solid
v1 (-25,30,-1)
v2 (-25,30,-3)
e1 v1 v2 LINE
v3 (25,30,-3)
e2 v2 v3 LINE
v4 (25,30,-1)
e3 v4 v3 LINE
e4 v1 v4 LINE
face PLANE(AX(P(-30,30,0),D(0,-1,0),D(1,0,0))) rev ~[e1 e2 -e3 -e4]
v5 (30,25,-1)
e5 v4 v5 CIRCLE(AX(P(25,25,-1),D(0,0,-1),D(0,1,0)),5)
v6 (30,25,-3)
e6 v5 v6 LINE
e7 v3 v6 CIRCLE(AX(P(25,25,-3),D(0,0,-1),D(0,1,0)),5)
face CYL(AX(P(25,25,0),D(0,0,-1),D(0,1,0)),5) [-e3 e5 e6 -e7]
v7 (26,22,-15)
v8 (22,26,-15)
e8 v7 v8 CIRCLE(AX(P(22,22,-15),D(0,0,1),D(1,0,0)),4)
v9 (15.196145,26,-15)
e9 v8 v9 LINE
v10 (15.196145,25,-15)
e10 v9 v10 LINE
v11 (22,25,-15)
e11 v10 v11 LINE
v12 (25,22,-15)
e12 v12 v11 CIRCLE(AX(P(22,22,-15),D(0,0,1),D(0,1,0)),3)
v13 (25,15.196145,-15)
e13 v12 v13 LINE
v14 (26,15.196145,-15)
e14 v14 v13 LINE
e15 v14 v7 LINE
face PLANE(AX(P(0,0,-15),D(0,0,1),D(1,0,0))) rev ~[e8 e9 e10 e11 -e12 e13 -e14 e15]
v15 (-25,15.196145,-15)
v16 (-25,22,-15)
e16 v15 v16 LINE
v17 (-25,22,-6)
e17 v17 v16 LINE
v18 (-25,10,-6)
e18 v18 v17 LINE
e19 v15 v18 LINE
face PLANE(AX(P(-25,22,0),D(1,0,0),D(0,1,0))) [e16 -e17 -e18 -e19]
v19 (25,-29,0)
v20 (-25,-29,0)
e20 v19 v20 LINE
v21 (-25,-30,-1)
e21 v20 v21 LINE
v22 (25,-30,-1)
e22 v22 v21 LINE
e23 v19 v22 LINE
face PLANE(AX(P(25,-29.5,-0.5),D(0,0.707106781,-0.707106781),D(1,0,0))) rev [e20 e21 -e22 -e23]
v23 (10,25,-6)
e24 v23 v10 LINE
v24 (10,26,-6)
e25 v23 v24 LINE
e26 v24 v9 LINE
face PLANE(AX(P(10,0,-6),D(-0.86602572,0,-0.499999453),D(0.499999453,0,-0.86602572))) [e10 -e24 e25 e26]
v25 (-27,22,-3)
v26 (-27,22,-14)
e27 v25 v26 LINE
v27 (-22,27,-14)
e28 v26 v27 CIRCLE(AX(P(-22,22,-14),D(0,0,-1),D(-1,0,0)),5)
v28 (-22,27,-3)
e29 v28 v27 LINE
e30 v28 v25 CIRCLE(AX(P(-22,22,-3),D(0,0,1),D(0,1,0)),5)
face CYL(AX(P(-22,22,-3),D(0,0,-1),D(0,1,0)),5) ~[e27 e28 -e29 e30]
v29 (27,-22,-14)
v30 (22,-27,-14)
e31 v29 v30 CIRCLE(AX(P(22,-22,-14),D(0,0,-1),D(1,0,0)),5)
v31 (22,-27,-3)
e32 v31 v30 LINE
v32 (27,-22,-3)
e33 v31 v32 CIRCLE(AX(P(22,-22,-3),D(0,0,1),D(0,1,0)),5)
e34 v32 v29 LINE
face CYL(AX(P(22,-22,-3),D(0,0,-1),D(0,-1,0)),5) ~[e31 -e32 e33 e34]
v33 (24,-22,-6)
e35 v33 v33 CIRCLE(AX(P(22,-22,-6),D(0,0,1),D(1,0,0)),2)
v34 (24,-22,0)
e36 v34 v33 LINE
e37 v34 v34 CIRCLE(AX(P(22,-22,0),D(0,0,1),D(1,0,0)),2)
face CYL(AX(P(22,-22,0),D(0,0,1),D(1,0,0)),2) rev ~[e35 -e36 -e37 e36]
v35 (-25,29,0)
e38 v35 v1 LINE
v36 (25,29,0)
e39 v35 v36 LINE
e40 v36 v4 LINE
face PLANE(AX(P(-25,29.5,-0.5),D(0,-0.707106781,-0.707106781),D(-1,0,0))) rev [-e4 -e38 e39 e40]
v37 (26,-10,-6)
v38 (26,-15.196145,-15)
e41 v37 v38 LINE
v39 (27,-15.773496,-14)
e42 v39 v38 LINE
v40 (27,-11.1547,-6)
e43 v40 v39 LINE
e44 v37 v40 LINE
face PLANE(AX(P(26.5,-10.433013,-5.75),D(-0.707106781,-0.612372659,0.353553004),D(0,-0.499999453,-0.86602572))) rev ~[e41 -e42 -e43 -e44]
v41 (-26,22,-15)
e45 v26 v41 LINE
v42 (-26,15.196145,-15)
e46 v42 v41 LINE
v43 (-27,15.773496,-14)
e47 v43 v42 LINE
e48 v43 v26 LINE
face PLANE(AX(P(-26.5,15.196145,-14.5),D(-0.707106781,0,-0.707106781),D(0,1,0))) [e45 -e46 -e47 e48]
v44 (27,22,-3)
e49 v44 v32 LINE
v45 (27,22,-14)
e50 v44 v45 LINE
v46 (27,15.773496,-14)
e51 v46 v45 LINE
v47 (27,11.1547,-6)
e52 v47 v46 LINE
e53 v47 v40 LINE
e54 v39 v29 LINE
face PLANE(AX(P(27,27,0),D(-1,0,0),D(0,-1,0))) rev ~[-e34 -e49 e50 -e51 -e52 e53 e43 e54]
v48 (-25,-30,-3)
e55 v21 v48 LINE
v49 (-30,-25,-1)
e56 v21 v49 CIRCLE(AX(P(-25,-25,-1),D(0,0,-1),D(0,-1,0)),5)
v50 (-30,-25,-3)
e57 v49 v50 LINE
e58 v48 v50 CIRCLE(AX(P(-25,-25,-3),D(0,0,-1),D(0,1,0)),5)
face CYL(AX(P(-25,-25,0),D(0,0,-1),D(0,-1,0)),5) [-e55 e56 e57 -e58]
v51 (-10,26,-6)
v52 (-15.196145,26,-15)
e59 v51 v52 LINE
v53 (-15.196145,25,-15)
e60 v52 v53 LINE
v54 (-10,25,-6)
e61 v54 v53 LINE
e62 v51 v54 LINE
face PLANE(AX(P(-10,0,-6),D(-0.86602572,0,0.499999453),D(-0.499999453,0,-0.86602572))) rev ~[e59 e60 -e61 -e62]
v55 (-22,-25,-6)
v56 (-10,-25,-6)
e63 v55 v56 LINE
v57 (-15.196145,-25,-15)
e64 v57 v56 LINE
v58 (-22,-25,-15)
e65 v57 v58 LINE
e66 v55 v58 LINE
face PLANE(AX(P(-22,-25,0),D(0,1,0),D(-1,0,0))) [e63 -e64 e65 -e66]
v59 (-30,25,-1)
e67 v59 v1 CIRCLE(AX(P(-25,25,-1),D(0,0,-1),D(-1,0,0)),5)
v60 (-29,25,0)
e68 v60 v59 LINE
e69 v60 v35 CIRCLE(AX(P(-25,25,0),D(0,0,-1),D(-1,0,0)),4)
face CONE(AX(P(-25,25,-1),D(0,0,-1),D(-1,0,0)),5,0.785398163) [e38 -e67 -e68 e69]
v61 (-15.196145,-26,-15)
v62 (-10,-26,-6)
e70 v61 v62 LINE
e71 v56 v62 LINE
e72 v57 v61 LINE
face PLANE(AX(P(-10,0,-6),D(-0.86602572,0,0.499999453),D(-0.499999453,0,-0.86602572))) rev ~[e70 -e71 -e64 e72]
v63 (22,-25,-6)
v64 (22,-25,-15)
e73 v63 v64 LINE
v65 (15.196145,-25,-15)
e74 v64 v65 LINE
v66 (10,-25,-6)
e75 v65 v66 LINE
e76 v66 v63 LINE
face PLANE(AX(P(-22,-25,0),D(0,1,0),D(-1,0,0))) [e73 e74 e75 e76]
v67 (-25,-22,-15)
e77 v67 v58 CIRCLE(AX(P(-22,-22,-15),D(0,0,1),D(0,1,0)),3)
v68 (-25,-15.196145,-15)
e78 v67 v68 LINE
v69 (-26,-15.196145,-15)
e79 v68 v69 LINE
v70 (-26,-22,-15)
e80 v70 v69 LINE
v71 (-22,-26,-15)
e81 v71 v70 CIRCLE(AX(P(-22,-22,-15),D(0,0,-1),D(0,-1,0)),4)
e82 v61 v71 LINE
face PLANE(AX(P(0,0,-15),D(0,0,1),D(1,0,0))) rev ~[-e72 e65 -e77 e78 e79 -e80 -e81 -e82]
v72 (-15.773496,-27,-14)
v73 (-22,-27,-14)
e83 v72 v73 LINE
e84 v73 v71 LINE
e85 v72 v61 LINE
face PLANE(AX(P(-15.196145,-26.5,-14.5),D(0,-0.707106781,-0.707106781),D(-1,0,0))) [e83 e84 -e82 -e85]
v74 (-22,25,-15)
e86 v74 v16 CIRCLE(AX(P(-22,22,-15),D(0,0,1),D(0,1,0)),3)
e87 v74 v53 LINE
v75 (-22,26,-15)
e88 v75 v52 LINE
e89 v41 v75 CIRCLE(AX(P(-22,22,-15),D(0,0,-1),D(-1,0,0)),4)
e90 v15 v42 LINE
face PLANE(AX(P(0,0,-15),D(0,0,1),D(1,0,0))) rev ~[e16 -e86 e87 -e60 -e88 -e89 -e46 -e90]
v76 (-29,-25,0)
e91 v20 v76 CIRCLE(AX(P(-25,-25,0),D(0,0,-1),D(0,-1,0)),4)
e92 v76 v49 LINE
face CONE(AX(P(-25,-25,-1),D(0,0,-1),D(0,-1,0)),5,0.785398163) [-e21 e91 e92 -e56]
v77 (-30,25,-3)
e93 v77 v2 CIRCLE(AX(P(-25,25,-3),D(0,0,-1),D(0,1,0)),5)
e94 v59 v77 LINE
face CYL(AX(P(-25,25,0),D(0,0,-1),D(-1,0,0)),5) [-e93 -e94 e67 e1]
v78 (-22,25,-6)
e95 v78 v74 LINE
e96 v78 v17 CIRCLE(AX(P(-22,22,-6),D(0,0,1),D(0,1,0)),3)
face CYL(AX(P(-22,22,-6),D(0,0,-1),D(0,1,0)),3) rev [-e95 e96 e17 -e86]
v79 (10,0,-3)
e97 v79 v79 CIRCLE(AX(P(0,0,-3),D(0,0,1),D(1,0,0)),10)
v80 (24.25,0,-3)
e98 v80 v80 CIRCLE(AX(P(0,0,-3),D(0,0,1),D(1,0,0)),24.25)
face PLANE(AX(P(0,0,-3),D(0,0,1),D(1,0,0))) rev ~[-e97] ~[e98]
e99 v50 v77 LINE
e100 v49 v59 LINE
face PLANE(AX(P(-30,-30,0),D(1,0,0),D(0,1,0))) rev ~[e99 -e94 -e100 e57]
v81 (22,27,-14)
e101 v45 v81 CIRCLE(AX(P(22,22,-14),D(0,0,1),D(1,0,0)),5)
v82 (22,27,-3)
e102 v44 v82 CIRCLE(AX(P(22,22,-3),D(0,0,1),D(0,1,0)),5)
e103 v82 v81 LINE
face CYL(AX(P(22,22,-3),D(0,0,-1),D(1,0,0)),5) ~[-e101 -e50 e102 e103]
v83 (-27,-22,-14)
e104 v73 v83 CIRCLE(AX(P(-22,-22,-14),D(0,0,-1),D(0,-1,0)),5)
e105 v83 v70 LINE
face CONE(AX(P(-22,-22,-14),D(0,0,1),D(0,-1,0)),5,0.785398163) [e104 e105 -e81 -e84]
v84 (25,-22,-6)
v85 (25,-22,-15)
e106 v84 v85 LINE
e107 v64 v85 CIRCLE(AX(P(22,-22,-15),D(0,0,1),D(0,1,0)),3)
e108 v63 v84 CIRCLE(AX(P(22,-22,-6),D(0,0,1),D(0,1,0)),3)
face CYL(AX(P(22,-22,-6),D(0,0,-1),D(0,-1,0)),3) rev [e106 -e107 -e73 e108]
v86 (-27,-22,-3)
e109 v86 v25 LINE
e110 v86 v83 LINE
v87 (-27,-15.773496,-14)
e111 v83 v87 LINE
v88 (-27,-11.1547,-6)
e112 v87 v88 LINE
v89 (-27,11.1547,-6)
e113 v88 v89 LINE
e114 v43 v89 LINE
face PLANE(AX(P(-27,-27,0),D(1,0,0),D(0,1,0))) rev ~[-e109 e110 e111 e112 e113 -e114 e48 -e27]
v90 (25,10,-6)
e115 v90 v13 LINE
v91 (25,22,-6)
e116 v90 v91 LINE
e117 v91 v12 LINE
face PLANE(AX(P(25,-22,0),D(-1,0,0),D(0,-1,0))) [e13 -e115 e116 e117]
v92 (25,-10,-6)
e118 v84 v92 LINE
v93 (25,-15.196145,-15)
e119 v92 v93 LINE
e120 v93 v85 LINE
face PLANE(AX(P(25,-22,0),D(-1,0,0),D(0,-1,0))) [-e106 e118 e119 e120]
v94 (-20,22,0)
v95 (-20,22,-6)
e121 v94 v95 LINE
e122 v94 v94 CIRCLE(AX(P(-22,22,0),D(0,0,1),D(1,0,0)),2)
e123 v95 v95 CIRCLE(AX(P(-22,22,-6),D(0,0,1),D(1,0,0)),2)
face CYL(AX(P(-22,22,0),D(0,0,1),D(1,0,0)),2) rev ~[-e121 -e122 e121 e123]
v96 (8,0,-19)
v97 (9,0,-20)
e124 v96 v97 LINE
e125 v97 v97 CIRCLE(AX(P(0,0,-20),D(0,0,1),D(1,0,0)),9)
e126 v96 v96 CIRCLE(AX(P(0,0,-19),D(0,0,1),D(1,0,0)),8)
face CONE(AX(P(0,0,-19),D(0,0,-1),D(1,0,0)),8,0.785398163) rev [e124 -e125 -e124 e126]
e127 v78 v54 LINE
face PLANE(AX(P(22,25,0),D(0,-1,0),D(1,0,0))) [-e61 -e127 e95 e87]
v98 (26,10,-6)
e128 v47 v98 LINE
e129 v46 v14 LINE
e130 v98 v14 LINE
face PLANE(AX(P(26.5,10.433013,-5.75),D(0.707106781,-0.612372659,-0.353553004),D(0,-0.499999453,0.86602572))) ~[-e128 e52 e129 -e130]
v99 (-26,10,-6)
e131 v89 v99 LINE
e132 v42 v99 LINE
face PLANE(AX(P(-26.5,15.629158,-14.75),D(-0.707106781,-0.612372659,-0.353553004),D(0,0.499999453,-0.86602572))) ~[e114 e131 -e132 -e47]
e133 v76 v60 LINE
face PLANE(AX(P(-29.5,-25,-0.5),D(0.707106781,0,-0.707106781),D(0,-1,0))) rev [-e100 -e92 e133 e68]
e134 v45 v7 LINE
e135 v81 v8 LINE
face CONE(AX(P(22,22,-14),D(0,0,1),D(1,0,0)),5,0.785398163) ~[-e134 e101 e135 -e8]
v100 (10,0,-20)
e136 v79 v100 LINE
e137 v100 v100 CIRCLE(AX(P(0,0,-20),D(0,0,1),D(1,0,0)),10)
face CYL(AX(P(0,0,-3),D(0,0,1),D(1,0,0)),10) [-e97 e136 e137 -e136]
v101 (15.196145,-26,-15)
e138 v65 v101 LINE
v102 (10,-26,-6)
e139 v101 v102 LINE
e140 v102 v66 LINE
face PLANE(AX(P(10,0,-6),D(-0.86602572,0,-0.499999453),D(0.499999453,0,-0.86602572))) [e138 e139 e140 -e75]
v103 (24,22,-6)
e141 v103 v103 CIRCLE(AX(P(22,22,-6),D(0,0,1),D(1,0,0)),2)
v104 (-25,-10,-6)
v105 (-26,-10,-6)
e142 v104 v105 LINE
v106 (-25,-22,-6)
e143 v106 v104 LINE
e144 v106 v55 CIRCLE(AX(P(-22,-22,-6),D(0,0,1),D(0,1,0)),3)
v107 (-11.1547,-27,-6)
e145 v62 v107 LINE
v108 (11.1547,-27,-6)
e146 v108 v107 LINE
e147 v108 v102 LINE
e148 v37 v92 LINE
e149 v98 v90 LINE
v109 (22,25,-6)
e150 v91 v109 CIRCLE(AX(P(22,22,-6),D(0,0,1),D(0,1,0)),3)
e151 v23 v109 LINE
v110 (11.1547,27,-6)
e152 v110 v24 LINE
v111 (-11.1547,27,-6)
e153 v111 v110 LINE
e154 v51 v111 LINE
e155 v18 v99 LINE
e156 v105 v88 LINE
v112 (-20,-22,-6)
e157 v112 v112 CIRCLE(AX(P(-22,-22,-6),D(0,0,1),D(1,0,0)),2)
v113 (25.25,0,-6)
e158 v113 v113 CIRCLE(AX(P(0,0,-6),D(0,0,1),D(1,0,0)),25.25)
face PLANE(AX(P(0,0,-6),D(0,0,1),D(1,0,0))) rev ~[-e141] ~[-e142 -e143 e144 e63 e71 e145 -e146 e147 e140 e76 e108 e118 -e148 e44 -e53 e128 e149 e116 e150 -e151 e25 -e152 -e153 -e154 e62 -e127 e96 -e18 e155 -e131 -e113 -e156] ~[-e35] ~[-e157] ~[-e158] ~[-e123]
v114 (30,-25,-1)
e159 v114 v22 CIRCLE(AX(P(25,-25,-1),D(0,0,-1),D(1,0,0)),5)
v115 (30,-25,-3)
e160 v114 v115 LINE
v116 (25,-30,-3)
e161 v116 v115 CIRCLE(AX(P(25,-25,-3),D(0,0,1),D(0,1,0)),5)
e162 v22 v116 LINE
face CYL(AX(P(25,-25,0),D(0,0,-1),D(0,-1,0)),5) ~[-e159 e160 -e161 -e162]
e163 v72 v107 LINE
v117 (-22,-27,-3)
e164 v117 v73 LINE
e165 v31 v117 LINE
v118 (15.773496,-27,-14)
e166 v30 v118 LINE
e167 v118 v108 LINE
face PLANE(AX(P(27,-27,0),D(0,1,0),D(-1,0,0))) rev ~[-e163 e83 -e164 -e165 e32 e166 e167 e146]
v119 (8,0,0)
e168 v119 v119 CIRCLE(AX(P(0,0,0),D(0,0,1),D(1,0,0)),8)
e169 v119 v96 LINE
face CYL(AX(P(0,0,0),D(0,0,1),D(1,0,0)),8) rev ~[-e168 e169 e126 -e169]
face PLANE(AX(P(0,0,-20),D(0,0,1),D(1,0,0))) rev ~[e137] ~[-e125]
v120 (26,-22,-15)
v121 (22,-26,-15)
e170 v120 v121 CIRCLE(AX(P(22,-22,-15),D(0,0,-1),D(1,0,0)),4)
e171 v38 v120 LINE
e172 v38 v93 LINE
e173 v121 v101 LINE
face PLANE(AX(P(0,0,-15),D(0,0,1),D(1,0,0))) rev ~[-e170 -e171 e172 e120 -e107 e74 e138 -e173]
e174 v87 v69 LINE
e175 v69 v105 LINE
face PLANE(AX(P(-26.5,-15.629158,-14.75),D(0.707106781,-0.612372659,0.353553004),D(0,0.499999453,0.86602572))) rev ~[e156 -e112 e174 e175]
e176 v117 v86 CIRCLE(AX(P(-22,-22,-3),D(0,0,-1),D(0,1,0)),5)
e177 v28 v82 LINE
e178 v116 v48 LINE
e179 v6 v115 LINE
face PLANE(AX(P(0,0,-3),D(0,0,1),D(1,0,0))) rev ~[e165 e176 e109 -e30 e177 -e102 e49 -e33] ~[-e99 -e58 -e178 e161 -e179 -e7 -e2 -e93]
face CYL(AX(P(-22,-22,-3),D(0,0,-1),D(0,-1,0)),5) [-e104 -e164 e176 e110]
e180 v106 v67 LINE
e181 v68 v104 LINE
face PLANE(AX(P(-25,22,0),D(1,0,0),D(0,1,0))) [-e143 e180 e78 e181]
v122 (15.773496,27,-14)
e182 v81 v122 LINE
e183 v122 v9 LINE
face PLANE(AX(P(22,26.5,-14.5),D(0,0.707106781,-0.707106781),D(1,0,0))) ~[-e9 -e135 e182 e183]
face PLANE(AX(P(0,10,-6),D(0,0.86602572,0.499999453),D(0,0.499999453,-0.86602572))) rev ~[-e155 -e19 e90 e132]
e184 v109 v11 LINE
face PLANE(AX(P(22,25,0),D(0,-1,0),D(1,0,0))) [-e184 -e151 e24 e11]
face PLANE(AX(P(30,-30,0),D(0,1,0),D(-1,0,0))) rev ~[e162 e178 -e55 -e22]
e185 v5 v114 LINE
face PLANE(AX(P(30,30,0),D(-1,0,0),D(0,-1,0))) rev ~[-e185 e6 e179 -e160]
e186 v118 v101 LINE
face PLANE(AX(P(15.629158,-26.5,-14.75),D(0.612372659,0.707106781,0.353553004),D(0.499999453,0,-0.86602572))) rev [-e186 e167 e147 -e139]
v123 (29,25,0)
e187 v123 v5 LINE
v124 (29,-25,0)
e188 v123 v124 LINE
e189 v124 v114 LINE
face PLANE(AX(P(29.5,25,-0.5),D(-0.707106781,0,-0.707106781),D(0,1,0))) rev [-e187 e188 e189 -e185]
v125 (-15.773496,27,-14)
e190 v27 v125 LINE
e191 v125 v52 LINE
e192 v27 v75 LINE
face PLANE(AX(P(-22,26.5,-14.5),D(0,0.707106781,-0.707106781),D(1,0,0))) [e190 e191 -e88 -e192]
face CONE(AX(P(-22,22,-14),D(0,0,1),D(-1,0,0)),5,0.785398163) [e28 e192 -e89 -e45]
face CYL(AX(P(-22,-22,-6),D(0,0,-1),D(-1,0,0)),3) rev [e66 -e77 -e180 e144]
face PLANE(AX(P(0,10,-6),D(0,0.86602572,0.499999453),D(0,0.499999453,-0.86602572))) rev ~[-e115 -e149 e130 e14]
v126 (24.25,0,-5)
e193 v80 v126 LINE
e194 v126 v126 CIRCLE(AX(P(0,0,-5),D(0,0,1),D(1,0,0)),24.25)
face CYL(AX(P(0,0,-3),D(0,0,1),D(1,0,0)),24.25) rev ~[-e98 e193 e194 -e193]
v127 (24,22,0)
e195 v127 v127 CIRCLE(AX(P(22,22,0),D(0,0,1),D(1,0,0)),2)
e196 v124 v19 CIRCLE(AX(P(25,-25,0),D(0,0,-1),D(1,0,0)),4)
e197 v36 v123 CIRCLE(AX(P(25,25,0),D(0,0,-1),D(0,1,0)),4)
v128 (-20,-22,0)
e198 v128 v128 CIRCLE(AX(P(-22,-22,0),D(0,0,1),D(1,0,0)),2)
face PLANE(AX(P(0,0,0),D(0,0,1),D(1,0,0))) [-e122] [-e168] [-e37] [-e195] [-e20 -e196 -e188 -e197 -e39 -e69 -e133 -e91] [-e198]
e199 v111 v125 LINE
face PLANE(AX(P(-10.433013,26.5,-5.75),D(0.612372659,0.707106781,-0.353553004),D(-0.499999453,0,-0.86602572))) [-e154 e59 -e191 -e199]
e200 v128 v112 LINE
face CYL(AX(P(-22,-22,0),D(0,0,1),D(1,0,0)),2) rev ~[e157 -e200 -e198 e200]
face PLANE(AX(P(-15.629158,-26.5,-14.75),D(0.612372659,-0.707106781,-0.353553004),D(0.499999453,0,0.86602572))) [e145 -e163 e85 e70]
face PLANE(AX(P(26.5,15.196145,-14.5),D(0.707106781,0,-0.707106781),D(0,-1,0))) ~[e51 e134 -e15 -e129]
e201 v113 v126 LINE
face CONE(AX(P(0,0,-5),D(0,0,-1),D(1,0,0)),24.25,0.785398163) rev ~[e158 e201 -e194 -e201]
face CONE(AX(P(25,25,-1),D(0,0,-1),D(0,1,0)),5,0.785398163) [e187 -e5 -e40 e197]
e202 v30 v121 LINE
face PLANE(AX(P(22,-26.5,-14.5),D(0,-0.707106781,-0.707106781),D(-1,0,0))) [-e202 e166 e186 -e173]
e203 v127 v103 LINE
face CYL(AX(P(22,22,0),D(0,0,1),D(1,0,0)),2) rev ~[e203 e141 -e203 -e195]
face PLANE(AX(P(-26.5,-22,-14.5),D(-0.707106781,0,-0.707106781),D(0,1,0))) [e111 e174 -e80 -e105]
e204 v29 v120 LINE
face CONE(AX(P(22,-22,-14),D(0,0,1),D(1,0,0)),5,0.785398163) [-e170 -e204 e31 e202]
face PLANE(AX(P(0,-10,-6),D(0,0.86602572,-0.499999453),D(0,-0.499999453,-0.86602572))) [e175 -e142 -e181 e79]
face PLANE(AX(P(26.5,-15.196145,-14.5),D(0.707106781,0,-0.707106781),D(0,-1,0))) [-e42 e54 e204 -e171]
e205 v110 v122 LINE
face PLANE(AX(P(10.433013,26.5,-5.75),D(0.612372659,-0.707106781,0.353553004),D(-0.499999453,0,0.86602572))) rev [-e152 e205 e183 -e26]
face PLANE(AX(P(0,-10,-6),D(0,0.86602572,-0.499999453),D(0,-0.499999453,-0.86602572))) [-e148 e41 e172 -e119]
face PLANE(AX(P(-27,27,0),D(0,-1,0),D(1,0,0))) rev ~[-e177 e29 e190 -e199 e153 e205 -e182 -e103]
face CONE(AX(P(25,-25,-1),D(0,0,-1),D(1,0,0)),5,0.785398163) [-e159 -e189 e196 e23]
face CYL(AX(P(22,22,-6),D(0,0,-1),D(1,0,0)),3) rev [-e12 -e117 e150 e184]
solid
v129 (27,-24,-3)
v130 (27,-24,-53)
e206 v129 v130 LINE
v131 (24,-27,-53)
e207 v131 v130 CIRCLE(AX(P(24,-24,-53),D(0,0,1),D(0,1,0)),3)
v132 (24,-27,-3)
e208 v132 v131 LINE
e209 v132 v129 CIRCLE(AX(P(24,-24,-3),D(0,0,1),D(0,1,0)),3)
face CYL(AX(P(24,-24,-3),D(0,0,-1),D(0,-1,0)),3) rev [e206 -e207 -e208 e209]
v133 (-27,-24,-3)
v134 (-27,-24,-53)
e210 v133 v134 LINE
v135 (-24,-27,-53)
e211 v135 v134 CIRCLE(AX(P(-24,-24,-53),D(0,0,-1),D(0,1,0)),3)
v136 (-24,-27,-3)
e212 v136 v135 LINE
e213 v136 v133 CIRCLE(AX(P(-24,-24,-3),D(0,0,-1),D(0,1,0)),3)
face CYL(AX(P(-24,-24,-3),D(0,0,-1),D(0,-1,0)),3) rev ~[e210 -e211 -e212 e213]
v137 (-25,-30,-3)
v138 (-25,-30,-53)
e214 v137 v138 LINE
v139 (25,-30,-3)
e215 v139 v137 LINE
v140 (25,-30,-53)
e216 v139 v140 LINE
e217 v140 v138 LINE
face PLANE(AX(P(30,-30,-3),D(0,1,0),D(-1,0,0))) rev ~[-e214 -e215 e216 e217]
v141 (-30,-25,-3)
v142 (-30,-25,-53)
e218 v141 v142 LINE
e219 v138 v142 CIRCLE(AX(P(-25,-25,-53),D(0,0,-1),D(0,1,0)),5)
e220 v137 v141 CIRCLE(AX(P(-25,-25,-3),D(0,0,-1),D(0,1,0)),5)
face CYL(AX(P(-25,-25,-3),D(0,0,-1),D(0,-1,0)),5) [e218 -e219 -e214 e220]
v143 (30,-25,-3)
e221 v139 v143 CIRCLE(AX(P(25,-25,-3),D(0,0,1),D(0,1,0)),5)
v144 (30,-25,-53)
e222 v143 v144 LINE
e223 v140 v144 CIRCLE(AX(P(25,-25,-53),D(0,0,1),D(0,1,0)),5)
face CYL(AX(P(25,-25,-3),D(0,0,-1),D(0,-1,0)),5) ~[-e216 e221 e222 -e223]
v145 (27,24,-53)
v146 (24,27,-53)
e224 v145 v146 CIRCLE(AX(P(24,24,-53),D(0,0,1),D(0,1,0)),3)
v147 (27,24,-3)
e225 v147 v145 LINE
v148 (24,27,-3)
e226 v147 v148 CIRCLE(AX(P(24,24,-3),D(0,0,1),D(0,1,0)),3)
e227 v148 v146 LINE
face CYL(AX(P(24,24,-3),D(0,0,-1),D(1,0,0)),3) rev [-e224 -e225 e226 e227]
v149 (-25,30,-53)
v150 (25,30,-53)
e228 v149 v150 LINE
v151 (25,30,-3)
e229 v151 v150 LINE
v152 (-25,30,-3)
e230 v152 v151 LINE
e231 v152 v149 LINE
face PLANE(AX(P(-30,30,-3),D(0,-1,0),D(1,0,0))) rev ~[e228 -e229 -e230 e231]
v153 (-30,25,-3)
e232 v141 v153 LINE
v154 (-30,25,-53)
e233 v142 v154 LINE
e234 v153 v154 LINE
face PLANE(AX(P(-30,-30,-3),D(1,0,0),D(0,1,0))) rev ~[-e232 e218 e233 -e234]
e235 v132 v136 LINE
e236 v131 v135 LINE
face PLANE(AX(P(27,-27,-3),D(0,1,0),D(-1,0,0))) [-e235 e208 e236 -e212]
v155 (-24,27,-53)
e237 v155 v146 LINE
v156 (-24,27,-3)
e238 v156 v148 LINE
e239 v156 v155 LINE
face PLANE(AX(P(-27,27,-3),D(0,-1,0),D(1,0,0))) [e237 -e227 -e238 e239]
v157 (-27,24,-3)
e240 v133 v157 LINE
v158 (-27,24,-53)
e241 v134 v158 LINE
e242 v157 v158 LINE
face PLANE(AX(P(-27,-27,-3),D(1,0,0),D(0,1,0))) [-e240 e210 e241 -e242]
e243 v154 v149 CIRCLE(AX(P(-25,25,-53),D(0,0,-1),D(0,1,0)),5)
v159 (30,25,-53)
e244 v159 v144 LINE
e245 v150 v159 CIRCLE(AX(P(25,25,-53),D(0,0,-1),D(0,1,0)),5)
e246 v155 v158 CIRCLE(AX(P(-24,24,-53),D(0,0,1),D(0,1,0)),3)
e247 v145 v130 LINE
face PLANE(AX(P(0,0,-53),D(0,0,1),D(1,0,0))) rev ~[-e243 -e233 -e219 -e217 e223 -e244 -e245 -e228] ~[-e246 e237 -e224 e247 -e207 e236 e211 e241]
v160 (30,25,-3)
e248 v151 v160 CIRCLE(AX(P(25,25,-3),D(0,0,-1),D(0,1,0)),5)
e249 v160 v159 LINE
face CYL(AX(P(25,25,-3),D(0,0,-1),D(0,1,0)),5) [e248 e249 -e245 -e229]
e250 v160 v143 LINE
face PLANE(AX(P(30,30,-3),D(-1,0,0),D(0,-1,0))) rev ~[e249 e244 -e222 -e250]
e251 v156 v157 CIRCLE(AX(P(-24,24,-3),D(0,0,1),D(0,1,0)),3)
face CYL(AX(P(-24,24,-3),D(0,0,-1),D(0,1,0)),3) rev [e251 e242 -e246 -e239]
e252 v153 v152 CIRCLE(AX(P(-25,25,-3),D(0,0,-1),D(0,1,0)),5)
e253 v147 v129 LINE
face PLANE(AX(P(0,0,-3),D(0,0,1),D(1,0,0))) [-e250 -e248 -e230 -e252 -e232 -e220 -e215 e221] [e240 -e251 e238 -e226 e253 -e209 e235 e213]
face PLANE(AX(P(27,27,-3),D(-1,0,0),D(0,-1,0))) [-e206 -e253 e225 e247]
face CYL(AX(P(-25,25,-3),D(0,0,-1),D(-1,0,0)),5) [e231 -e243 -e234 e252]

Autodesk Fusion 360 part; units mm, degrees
sketch "Common" plane through (0, 0, 0) normal (0, 0, 1) x (1, 0, 0)
  line L0 (30, -30) -> (-30, -30)
  line L1 (-30, -30) -> (-30, 30)
  line L2 (-30, 30) -> (30, 30)
  line L3 (30, 30) -> (30, -30)
  line L4 (30, -30) -> (-30, 30) construction
  line L5 (-30, -30) -> (30, 30) construction
  circle A0 centre (0, 0) radius 8
  circle A1 centre (0, 0) radius 10
  line L6 (-27, -27) -> (-27, 27)
  line L7 (-27, 27) -> (27, 27)
  line L8 (27, 27) -> (27, -27)
  line L9 (27, -27) -> (-27, -27)
  circle A2 centre (22, -22) radius 2
  circle A3 centre (22, 22) radius 2
  circle A4 centre (-22, 22) radius 2
  circle A5 centre (-22, -22) radius 2
  line L10 (25, -25) -> (-25, -25)
  line L11 (-25, -25) -> (-25, 25)
  line L12 (-25, 25) -> (25, 25)
  line L13 (25, 25) -> (25, -25)
  circle A6 centre (0, 0) radius 24.25
  circle A7 centre (22, 22) radius 3
  circle A8 centre (22, -22) radius 3
  circle A9 centre (-22, -22) radius 3
  circle A10 centre (-22, 22) radius 3
  dimension "d1" = 60
  dimension "d2" = 60
  dimension "d3" = 16
  dimension "d4" = 2
  dimension "d5" = 3
  dimension "d6" = 4
  dimension "d8" = 8
  dimension "d10" = 360
  dimension "d11" = 5
  dimension "d31" = 48.5
  dimension "d133" = 1
  dimension "d134" = 1
  dimension "d135" = 1
  dimension "d136" = 1
extrude "Extrude1" add sketch "Common" against normal blind 50 from surface at -3 contours L0 L1 L2 L3 makes body 1 in component "Pole"
fillet "Fillet1" radius 5 4 edges at (-30, -30, -28) (30, -30, -28) (30, 30, -28) (-30, 30, -28) on bodies 1 in component "Pole"
fillet "Fillet1" radius 3 4 edges at (27, 27, -28) (-27, 27, -28) (-27, -27, -28) (27, -27, -28) on bodies 1 in component "Pole"
extrude "Extrude2" add sketch "Common" against normal blind 3 separate body contours L0 L1 L2 L3 makes body 2 in component "Plug"
extrude "Extrude3" add sketch "Common" against normal blind 15 contours L6 L7 L8 L9 bodies 2 in component "Plug"
extrude "Extrude4" add sketch "Common" against normal blind 6 contours L10 L13 A8 | L10 L11 L12 L13 A7 A8 A9 A10 | A8 | L10 L11 A9 | A9 | L12 L13 A7 | A7 | L11 L12 A10 | A10 | A6 bodies 2 in component "Plug"
sketch "Flange cutout1" plane through (0, 0, 0) normal (0, 1, 0) x (1, 0, 0) in component "Plug"
  line L0 (0, 0) -> (0, 40) construction
  line L1 (0, 6) -> (10, 6)
  line L2 (10, 6) -> (25, 31.9808)
  line L3 (10, 6) -> (37, 6) construction
  line L4 (25, 31.9808) -> (0, 31.9808)
  line L5 (-25, 31.9808) -> (0, 31.9808)
  line L6 (0, 6) -> (-10, 6)
  line L7 (-10, 6) -> (-25, 31.9808)
  dimension "d90" = 40
  dimension "d91" = 10
  dimension "d92" = 6
  dimension "d93" = 30
  dimension "d94" = 60
extrude "Extrude6" cut sketch "Flange cutout1" along normal mid plane 100 bodies 2 in component "Plug"
sketch "Flange cutout2" plane through (0, 0, 0) normal (1, 0, 0) x (0, 1, 0) in component "Plug"
  line L0 (-25, -31.9808) -> (0, -31.9808)
  line L1 (0, -6) -> (10, -6)
  line L2 (-10, -6) -> (-25, -31.9808)
  line L3 (0, -6) -> (-10, -6)
  line L4 (-10, -6) -> (-37, -6) construction
  line L5 (0, 0) -> (0, -40) construction
  line L6 (10, -6) -> (25, -31.9808)
  line L7 (25, -31.9808) -> (0, -31.9808)
  point P0 (0.1488, 0.1515)
  dimension "d104" = 40
  dimension "d105" = 10
  dimension "d106" = 6
  dimension "d107" = 30
  dimension "d108" = 60
extrude "Extrude7" cut sketch "Flange cutout2" along normal mid plane 200 bodies 2 in component "Plug"
extrude "Extrude5" add sketch "Common" against normal blind 20 contours A1 bodies 2 in component "Plug"
fillet "Fillet1'" radius 5 4 edges at (-30, -30, -1.5) (30, -30, -1.5) (30, 30, -1.5) (-30, 30, -1.5) on bodies 2 in component "Plug"
fillet "Fillet1'" radius 5 4 edges at (-27, 27, -9) (-27, -27, -9) (27, 27, -9) (27, -27, -9) on bodies 2 in component "Plug"
fillet "Fillet1'" radius 3 4 edges at (-25, 25, -10.5) (25, 25, -10.5) (-25, -25, -10.5) (25, -25, -10.5) on bodies 2 in component "Plug"
extrude "Extrude8" cut sketch "Common" against normal blind 3 from surface at -3 contours A6 bodies 2 in component "Plug"
chamfer "Chamfer1" distance 1 angle 45 30 edges at (0, -30, 0) (-28.5355, -28.5355, 0) (-30, 0, 0) (-28.5355, 28.5355, 0) (0, 30, 0) (28.5355, 28.5355, 0) (30, 0, 0) (28.5355, -28.5355, 0) (27, -18.5981, -15) (25.5355, -25.5355, -15) (18.5981, -27, -15) (27, -12.5981, -10.5) (27, 12.5981, -10.5) (25.5355, 25.5355, -15) (27, 18.5981, -15) (18.5981, 27, -15) (-18.5981, 27, -15) (-25.5355, 25.5355, -15) (-27, 18.5981, -15) (-18.5981, -27, -15) (-25.5355, -25.5355, -15) (-27, -18.5981, -15) (-12.5981, -27, -10.5) (-12.5981, 27, -10.5) (12.5981, 27, -10.5) (12.5981, -27, -10.5) (-27, -12.5981, -10.5) (-27, 12.5981, -10.5) (-7.4586, -2.8929, -20) (-22.6089, -8.7692, -6) on bodies 2 in component "Plug"
component "Pole" placed x (1, 0, 0) y (0, 1, 0) z (0, 0, 1) at (0, 0, 0)
component "Plug" placed x (1, 0, 0) y (0, 1, 0) z (0, 0, 1) at (0, 0, 0)
